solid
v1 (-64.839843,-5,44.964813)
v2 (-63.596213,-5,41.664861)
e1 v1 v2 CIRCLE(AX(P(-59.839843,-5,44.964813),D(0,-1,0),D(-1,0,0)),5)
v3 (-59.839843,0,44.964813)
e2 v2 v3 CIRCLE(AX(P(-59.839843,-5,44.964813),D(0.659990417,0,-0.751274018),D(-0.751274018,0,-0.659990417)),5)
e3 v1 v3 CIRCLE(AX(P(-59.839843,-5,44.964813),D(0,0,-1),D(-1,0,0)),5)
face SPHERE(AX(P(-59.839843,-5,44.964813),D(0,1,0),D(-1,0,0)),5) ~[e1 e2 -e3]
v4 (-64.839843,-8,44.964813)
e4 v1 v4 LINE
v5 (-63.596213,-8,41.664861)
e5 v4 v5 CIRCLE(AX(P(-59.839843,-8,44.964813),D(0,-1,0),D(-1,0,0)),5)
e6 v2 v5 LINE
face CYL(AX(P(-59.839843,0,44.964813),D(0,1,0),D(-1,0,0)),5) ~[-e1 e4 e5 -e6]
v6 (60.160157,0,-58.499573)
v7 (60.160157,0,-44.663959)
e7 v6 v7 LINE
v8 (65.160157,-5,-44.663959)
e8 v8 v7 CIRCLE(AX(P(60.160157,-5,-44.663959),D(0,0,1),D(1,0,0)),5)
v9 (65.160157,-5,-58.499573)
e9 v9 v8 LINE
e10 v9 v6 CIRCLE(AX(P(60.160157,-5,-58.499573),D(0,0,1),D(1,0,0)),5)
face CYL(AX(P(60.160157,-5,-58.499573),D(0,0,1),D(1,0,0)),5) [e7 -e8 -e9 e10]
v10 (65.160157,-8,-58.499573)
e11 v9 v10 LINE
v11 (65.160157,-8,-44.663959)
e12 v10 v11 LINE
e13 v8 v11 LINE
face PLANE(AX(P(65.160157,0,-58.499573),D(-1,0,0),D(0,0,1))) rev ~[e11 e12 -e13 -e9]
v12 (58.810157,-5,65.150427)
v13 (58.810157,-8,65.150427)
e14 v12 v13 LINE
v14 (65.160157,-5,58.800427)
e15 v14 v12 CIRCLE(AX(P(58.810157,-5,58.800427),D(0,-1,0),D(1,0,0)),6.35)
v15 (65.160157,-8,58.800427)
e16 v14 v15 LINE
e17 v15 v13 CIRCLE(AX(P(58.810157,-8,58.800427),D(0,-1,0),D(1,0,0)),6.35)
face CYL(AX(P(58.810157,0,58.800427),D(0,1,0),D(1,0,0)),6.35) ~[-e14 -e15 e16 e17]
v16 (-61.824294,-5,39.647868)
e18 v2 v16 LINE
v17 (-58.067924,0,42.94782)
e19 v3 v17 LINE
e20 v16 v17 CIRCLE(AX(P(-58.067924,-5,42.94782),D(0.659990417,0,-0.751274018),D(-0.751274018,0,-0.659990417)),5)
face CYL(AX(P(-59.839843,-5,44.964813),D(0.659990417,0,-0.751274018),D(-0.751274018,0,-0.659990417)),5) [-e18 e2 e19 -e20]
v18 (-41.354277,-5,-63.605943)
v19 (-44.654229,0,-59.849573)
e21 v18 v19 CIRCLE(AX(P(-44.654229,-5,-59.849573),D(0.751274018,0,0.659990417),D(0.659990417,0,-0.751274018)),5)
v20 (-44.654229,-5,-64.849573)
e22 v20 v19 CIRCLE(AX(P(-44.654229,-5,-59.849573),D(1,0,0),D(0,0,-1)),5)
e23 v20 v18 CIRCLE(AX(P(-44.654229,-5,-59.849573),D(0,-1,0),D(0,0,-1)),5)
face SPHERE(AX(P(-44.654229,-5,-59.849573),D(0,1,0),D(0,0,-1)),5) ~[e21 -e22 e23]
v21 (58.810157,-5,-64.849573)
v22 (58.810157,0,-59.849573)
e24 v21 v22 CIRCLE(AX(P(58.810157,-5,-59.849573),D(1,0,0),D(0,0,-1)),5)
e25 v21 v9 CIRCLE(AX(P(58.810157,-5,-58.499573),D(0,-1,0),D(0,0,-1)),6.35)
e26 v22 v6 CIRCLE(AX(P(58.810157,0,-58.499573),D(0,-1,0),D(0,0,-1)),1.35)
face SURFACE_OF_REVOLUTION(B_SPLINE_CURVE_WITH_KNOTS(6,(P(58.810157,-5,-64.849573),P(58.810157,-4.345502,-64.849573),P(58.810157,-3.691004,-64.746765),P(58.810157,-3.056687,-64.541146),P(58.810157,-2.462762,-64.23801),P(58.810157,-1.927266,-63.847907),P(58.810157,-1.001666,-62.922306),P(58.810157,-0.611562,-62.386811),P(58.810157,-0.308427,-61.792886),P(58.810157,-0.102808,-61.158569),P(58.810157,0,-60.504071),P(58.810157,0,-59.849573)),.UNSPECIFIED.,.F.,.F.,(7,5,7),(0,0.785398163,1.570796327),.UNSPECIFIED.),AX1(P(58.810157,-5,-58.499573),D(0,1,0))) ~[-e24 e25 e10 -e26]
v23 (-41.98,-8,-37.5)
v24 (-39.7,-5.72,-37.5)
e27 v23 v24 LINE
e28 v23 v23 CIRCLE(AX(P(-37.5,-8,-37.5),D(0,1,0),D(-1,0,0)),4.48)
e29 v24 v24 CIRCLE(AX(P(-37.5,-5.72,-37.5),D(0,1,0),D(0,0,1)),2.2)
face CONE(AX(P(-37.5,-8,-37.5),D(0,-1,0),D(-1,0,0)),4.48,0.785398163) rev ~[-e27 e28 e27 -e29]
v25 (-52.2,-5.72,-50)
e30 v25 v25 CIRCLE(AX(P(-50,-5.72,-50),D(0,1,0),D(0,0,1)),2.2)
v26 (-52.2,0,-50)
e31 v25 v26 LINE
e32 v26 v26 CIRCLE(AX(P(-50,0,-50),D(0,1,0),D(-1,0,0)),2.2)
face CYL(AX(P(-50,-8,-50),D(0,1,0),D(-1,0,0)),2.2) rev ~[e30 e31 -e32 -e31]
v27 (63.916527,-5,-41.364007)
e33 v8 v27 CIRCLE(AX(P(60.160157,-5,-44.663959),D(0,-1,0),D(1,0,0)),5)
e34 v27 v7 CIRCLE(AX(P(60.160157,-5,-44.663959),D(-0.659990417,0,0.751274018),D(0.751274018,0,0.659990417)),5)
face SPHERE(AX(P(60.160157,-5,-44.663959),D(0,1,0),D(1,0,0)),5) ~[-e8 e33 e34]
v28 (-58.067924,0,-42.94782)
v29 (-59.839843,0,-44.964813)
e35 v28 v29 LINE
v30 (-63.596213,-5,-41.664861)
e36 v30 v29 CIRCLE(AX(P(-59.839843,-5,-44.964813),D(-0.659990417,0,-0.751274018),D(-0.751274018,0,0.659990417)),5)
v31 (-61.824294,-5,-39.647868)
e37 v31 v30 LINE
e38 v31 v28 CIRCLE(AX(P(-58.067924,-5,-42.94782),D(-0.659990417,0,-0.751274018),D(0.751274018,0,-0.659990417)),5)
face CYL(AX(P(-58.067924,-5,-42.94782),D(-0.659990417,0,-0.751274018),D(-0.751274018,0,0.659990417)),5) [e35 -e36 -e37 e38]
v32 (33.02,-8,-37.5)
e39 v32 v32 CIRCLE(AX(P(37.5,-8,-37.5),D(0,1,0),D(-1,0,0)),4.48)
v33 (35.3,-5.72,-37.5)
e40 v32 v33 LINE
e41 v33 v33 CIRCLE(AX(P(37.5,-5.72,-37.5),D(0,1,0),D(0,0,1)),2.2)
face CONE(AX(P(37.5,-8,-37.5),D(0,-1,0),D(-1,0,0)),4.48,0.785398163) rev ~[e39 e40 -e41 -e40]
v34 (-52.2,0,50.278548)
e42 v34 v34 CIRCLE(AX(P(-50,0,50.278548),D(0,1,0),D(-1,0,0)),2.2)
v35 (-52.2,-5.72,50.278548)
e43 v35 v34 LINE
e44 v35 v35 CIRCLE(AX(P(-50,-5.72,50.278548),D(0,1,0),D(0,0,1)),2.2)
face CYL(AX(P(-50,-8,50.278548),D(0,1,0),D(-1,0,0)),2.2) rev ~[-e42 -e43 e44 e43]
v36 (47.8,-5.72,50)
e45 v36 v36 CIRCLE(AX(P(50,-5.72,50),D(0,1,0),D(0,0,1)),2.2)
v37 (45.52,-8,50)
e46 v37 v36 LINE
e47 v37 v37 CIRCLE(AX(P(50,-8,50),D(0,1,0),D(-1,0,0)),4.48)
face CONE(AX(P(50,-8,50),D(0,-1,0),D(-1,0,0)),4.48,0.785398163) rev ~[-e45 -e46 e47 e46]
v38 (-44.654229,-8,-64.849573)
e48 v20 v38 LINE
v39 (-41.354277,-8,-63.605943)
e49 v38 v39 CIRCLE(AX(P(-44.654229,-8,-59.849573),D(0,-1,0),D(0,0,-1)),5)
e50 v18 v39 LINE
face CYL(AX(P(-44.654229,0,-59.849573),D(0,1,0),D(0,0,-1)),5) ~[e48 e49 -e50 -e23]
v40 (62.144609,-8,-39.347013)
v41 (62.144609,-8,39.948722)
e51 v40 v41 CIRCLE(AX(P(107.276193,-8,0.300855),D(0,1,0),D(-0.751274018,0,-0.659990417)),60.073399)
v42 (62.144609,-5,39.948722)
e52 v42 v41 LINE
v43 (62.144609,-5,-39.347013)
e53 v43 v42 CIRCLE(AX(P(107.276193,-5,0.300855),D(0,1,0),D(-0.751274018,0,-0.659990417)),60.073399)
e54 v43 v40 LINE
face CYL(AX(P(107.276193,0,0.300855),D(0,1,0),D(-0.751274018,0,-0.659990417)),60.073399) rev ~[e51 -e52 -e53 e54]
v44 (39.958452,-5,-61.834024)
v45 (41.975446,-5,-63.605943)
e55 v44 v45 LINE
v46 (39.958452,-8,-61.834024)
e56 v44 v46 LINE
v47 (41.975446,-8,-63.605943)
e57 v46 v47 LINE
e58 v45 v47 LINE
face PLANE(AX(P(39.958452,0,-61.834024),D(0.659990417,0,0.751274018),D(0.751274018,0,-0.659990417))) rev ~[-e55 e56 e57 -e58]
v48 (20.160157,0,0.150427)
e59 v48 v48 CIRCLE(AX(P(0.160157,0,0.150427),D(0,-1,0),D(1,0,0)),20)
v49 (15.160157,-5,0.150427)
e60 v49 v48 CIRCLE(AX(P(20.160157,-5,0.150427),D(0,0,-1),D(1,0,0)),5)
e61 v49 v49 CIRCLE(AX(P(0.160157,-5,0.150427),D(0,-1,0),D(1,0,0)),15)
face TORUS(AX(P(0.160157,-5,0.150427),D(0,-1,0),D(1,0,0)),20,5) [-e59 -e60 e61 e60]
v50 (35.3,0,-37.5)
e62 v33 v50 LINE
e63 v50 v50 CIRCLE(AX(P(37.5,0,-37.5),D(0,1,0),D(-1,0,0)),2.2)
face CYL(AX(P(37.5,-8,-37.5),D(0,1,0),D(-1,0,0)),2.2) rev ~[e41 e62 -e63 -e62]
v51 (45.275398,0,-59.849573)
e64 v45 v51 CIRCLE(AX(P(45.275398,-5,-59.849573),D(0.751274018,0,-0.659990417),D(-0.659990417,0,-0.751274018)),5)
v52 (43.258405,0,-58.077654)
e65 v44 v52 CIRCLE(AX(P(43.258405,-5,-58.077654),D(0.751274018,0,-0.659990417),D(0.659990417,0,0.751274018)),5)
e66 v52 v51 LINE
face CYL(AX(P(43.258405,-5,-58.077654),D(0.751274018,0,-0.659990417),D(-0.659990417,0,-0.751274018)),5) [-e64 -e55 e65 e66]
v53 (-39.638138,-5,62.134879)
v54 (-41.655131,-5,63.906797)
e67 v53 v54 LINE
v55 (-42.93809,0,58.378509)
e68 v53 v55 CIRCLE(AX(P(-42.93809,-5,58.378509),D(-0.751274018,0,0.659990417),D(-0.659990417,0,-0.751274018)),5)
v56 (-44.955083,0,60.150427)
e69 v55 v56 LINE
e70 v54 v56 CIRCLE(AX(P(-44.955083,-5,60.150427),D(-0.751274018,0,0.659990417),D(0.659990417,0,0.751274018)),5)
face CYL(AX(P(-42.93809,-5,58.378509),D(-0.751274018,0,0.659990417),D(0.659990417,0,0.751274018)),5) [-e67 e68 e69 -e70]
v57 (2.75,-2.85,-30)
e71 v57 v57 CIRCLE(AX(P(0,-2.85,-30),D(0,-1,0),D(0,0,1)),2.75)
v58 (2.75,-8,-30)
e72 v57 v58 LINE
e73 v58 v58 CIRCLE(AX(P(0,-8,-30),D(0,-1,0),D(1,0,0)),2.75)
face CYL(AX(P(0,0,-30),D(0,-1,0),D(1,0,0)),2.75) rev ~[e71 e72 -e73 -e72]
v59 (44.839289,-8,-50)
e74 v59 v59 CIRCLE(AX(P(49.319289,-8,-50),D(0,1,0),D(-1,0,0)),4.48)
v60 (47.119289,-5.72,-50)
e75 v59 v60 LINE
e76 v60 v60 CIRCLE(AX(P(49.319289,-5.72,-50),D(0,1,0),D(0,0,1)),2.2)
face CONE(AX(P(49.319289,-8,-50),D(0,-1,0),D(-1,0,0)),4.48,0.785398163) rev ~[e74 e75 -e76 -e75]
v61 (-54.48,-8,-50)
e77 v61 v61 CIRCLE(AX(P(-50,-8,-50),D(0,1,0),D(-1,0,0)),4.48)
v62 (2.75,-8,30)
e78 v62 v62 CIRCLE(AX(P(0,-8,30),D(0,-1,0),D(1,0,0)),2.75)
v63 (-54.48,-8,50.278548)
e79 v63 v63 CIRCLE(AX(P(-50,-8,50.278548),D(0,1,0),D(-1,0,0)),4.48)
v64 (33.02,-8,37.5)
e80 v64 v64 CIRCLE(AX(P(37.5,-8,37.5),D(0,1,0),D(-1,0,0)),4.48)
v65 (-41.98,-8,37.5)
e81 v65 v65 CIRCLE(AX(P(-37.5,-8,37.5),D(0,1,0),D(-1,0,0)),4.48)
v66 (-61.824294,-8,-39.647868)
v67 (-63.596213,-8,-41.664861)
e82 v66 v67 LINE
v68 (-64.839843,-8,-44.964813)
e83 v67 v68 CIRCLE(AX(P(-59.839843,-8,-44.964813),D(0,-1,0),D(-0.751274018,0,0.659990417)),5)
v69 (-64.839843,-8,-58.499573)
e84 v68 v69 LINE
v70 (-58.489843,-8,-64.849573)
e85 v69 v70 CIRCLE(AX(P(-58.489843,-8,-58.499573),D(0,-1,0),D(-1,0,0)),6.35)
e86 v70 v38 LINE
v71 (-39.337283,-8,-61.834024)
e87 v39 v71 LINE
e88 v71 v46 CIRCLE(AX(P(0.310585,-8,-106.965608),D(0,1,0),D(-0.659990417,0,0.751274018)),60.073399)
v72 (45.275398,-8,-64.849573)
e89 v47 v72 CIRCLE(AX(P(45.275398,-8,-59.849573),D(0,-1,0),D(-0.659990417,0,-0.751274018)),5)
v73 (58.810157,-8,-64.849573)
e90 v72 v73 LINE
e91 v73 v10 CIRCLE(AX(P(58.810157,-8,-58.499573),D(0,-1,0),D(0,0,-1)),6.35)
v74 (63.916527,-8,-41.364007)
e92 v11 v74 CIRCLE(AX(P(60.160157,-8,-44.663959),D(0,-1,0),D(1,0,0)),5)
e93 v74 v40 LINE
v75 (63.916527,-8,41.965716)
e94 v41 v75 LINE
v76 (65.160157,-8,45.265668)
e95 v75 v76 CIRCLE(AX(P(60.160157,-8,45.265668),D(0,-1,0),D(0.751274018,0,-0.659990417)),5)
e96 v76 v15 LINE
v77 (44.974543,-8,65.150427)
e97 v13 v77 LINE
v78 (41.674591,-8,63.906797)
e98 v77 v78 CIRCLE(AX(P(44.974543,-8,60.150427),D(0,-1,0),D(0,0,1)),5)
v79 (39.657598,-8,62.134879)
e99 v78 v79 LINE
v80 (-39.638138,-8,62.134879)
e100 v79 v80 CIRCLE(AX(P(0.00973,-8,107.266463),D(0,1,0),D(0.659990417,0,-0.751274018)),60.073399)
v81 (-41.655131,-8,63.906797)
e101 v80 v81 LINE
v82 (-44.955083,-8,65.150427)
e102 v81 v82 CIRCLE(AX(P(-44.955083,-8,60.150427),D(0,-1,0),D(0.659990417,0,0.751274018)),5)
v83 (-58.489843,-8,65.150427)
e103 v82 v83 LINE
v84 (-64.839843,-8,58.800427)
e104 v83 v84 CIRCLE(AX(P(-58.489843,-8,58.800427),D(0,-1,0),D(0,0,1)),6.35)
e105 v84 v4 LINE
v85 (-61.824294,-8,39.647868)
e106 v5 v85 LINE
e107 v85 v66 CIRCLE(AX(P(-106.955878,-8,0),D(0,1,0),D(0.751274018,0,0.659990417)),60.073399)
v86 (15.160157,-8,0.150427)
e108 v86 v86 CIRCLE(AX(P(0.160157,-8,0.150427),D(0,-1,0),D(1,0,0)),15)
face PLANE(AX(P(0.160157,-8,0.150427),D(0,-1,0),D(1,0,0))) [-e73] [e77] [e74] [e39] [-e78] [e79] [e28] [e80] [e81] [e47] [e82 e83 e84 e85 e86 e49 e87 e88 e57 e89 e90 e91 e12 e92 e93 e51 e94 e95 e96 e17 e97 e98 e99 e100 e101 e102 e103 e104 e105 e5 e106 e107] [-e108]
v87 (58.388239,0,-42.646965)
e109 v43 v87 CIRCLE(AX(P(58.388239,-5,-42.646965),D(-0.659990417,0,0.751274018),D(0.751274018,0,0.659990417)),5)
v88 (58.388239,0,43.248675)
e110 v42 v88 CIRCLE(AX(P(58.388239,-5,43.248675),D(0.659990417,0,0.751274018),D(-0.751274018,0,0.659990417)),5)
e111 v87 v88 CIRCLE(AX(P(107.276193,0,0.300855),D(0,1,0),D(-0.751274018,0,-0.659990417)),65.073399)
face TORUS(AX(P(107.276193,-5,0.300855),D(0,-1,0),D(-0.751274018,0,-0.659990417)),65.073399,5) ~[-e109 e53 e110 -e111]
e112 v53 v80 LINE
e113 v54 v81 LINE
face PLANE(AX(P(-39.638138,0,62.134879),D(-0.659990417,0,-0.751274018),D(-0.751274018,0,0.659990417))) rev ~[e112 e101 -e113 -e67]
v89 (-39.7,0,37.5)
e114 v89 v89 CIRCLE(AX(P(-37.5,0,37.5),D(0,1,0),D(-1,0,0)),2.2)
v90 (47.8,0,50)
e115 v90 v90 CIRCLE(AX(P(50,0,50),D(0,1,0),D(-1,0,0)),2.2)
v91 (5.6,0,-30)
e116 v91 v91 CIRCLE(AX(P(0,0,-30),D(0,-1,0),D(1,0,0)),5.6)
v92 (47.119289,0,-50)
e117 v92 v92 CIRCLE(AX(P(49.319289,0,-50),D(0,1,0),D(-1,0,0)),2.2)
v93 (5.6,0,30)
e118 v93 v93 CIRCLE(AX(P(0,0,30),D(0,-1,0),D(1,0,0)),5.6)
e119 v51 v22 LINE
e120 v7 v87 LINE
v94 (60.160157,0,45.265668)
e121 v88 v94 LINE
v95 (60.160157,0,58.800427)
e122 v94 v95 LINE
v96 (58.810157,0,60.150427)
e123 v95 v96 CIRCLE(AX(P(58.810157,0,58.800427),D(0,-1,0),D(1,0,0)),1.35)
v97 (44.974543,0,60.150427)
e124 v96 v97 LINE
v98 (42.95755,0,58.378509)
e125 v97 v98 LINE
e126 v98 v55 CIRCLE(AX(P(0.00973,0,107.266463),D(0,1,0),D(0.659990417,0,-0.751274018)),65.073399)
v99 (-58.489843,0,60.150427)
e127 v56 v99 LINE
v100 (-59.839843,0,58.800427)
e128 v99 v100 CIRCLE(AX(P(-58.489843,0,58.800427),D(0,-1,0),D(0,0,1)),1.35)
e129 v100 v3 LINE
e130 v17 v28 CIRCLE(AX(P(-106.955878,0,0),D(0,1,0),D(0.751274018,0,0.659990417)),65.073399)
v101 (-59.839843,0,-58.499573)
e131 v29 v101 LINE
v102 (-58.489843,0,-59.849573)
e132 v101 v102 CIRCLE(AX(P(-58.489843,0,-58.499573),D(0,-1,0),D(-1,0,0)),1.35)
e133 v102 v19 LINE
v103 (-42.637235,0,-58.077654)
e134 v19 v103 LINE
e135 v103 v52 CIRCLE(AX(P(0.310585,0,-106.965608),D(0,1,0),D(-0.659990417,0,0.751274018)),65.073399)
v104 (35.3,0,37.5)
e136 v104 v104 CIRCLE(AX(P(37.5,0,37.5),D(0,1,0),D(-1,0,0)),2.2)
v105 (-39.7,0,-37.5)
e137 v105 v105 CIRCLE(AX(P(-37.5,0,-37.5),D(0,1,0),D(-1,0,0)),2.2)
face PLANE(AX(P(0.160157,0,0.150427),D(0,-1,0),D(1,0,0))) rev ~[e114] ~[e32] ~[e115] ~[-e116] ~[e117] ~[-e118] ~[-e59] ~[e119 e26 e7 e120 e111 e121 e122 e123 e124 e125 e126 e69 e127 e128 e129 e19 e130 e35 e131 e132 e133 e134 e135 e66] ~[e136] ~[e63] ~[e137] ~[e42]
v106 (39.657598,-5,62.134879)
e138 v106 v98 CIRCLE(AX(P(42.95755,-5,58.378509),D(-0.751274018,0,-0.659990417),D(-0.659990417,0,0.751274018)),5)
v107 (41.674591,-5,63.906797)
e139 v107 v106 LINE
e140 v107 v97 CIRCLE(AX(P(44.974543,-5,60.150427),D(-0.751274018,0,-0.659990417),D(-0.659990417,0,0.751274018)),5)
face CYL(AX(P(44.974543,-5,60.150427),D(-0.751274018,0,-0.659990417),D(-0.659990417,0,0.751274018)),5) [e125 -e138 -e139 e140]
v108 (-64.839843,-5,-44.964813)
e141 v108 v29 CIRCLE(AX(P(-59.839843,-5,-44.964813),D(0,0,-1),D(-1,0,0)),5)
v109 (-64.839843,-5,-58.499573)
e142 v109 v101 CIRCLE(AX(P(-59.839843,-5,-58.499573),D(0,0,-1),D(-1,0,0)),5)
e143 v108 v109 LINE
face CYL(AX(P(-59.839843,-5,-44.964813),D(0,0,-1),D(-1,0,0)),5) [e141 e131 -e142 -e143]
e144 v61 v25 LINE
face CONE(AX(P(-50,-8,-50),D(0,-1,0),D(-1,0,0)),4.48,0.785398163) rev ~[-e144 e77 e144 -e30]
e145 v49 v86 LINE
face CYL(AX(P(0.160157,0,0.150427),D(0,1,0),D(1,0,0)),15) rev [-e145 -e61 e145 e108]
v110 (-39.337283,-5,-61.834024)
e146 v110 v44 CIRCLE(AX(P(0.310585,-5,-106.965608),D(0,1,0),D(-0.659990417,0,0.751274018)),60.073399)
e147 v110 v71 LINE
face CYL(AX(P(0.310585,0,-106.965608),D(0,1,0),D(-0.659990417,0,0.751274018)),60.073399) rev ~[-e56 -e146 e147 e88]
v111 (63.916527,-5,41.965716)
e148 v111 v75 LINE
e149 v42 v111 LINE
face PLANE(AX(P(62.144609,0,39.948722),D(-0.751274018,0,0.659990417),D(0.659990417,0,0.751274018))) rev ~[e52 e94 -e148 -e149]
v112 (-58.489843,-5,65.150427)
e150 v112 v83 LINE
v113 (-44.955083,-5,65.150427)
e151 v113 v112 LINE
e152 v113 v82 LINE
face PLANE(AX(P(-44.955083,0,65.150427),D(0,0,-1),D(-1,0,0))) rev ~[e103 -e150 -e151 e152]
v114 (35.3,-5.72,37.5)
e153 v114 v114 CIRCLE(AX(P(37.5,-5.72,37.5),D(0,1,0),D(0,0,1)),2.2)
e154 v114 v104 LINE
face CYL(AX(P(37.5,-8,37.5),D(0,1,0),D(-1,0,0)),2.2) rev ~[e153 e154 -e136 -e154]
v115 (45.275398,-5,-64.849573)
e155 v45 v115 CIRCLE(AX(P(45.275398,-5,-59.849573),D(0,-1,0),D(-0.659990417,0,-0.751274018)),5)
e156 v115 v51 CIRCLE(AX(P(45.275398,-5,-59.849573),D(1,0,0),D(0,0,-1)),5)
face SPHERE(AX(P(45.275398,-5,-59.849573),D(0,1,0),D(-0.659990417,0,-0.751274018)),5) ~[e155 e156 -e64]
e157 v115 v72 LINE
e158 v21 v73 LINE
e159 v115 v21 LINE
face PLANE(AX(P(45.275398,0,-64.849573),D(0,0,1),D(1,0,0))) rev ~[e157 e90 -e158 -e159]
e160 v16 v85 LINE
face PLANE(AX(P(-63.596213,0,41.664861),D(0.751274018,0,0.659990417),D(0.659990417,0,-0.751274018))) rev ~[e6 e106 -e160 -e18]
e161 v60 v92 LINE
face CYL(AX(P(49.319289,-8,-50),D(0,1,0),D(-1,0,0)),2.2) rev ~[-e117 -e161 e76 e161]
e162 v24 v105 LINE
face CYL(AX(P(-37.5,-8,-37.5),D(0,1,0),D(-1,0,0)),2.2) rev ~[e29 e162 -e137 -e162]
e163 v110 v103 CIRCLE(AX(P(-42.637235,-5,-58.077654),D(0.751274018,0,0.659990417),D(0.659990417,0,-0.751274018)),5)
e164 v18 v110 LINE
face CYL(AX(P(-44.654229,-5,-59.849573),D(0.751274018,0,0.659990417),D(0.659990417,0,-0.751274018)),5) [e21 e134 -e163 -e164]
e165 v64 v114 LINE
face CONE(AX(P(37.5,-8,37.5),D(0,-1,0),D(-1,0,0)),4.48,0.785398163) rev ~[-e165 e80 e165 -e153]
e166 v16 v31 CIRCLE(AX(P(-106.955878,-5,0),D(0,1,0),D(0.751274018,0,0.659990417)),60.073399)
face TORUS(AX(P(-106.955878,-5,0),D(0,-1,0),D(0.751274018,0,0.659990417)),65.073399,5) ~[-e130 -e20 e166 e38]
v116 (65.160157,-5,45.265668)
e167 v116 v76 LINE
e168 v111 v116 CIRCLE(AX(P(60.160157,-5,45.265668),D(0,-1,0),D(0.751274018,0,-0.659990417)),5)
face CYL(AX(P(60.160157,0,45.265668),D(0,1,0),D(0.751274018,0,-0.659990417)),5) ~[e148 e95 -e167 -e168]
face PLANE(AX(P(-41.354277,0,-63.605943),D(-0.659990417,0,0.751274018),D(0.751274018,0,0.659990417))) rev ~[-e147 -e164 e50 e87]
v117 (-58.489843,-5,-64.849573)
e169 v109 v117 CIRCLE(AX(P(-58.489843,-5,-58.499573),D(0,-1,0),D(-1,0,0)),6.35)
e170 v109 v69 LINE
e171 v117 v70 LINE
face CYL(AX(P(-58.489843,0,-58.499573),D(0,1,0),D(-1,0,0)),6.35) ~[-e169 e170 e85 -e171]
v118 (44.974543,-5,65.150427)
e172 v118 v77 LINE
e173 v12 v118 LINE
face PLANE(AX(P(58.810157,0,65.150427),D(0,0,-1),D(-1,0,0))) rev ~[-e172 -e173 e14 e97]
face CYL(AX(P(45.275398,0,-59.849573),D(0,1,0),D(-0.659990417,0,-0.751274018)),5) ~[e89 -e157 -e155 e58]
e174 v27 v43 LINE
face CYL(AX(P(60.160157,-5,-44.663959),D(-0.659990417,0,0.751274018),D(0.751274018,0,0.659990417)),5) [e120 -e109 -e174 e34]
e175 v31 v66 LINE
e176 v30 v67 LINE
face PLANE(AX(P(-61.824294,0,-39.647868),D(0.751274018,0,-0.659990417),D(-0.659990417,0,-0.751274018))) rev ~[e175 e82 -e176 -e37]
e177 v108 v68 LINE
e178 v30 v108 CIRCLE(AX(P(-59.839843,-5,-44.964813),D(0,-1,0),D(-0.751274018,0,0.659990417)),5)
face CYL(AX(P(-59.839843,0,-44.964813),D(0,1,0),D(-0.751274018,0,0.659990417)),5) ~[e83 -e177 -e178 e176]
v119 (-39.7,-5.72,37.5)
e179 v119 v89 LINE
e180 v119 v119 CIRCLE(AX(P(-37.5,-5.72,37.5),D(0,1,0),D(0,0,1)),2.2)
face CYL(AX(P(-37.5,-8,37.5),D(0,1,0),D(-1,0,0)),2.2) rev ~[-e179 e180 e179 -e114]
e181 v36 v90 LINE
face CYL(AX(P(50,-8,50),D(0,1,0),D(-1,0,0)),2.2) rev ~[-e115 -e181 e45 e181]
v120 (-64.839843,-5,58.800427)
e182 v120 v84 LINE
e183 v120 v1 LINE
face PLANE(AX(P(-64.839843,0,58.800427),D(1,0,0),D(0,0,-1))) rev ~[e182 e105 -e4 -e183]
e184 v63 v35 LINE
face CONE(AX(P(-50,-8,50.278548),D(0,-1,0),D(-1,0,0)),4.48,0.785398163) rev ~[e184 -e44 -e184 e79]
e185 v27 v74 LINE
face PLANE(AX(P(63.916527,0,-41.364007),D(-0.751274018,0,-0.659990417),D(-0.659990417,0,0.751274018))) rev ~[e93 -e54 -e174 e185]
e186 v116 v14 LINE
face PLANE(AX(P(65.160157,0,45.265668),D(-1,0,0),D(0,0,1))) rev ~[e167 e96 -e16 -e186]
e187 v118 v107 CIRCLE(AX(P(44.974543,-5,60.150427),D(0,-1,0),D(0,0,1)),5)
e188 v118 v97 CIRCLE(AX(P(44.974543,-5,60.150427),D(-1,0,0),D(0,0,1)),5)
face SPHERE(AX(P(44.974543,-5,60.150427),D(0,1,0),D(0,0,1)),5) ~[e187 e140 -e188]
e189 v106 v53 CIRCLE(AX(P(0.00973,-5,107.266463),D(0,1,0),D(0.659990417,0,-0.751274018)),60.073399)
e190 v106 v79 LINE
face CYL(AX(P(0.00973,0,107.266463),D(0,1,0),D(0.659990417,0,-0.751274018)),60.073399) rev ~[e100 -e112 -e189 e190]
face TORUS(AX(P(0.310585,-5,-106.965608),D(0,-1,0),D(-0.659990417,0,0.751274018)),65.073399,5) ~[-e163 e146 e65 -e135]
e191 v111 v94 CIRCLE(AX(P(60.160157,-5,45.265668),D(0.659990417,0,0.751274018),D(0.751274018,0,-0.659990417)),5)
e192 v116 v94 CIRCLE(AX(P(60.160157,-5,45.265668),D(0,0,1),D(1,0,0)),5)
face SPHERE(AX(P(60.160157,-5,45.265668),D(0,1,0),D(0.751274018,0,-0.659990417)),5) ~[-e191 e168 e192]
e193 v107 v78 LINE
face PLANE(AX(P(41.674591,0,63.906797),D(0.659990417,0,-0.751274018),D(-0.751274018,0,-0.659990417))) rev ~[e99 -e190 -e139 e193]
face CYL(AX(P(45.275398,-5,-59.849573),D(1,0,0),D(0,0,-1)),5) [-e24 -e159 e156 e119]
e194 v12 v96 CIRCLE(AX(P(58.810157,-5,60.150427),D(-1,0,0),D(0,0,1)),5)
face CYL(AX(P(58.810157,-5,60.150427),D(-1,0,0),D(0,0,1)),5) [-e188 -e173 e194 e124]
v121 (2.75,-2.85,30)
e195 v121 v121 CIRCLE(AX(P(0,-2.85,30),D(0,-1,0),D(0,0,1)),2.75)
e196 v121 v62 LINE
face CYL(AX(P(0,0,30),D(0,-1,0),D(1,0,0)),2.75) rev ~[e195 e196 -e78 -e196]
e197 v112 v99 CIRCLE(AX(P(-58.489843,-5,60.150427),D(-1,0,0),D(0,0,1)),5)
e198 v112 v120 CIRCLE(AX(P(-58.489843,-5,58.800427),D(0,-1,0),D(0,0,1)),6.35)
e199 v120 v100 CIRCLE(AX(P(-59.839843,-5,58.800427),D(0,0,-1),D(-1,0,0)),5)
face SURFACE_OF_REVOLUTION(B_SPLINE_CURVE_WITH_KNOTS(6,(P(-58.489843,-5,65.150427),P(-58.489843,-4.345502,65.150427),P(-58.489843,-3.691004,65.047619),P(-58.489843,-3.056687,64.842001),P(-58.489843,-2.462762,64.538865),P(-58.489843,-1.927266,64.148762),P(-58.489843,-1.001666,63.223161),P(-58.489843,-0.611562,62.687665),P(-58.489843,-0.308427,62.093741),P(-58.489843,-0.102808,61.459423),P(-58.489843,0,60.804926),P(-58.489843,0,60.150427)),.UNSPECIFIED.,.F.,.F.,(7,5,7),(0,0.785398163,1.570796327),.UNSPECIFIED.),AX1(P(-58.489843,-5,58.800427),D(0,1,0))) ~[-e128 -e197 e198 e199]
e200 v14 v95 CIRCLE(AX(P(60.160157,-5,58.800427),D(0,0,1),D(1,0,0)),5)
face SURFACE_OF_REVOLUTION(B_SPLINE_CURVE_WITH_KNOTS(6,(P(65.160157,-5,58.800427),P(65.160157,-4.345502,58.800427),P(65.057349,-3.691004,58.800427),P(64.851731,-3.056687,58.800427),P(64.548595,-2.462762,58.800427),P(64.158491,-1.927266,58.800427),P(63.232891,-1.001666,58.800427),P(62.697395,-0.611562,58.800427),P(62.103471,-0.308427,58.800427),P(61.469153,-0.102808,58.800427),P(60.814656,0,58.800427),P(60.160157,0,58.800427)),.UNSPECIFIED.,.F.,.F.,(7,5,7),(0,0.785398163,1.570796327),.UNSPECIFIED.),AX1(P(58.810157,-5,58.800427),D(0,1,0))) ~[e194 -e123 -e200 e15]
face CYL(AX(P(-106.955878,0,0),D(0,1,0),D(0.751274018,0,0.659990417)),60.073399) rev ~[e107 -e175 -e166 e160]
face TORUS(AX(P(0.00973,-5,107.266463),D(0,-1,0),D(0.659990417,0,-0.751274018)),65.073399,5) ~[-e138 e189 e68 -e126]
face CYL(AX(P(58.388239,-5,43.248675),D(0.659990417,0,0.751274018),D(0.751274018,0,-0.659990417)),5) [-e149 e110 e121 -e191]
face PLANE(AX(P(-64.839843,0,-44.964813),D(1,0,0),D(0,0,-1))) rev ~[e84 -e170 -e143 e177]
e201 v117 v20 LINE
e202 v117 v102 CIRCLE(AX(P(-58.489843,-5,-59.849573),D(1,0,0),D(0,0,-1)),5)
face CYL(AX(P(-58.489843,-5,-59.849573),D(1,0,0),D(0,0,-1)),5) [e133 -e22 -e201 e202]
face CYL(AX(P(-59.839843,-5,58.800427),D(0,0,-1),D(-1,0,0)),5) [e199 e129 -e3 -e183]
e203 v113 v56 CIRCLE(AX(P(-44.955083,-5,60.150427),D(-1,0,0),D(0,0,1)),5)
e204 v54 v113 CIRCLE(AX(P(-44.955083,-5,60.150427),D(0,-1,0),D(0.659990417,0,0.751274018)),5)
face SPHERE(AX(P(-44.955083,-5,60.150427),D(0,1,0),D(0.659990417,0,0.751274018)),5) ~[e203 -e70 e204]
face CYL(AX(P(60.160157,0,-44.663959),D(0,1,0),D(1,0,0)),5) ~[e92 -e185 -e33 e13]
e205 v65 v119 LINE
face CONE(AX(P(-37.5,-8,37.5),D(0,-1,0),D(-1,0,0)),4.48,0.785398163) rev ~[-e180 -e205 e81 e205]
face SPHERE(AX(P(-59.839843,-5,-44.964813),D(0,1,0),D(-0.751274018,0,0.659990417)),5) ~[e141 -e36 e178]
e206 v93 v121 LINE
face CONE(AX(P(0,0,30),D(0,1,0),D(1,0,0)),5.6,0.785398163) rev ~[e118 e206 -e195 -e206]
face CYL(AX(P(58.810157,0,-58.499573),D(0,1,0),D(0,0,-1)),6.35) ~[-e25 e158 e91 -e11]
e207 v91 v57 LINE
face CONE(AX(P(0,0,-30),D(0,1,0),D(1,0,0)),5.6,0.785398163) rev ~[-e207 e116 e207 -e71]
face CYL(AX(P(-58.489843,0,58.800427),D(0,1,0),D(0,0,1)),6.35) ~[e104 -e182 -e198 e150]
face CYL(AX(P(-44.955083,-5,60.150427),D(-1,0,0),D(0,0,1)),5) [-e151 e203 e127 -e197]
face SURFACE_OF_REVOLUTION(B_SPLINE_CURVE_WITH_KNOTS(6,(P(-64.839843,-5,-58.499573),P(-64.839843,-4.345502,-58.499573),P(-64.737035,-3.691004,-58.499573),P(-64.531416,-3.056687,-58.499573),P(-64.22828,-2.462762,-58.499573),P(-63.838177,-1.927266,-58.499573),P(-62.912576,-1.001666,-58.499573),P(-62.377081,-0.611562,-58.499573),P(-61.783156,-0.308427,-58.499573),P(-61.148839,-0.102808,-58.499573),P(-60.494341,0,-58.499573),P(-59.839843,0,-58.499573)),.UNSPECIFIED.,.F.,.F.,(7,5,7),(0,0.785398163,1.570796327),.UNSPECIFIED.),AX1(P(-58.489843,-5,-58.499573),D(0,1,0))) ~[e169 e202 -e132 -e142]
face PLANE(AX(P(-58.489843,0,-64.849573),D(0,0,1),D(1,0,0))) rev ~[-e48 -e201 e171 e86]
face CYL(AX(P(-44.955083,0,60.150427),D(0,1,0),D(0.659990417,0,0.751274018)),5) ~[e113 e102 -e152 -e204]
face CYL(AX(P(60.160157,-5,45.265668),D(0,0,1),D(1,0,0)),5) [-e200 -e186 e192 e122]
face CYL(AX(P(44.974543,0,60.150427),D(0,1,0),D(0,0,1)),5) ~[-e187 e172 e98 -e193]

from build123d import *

# Parameters (mm, degrees)
F0_R           = 15
F1_DEPTH       = 8
F3_D           = 4.4
F3_CSINK_D     = 8.96
F3_CSINK_ANGLE = 90
F5_D           = 5.5
F5_CSINK_D     = 11.2
F5_CSINK_ANGLE = 90
F6_R           = 5


with BuildPart() as f1:
    # F0 (on Front) → F1 (new body)
    with BuildSketch(Plane.XZ):
        with BuildLine():
            Line((-44.9550832745, 65.1504273235), (-58.4898427156, 65.1504273235))
            ThreePointArc((-58.4898427156, 65.1504273235), (-62.9799707761, 63.290555384), (-64.8398427156, 58.8004273235))
            Line((-64.8398427156, 58.8004273235), (-64.8398427156, 44.9648132355))
            ThreePointArc((-64.8398427156, 44.9648132355), (-64.5186166173, 43.2015563694), (-63.5962128052, 41.6648611525))
            Line((-63.5962128052, 41.6648611525), (-61.8242943859, 39.6478678193))
            ThreePointArc((-61.8242943859, 39.6478678193), (-46.8824791526, 0), (-61.8242943859, -39.6478678193))
            Line((-61.8242943859, -39.6478678193), (-63.5962128052, -41.6648611525))
            ThreePointArc((-63.5962128052, -41.6648611525), (-64.5186166173, -43.2015563694), (-64.8398427156, -44.9648132355))
            Line((-64.8398427156, -44.9648132355), (-64.8398427156, -58.4995726765))
            ThreePointArc((-64.8398427156, -58.4995726765), (-62.9799707761, -62.989700737), (-58.4898427156, -64.8495726765))
            Line((-58.4898427156, -64.8495726765), (-44.6542286275, -64.8495726765))
            ThreePointArc((-44.6542286275, -64.8495726765), (-42.8909717614, -64.5283465783), (-41.3542765446, -63.6059427661))
            Line((-41.3542765446, -63.6059427661), (-39.3372832113, -61.8340243469))
            ThreePointArc((-39.3372832113, -61.8340243469), (0.3105846079, -46.8922091135), (39.9584524272, -61.8340243469))
            Line((39.9584524272, -61.8340243469), (41.9754457605, -63.6059427661))
            ThreePointArc((41.9754457605, -63.6059427661), (43.5121409773, -64.5283465783), (45.2753978434, -64.8495726765))
            Line((45.2753978434, -64.8495726765), (58.8101572844, -64.8495726765))
            ThreePointArc((58.8101572844, -64.8495726765), (63.300285345, -62.989700737), (65.1601572844, -58.4995726765))
            Line((65.1601572844, -58.4995726765), (65.1601572844, -44.6639585885))
            ThreePointArc((65.1601572844, -44.6639585885), (64.8389311862, -42.9007017224), (63.9165273741, -41.3640065055))
            Line((63.9165273741, -41.3640065055), (62.1446089548, -39.3470131723))
            ThreePointArc((62.1446089548, -39.3470131723), (47.2027937215, 0.300854647), (62.1446089548, 39.9487224663))
            Line((62.1446089548, 39.9487224663), (63.9165273741, 41.9657157995))
            ThreePointArc((63.9165273741, 41.9657157995), (64.8389311862, 43.5024110164), (65.1601572844, 45.2656678825))
            Line((65.1601572844, 45.2656678825), (65.1601572844, 58.8004273235))
            ThreePointArc((65.1601572844, 58.8004273235), (63.300285345, 63.290555384), (58.8101572844, 65.1504273235))
            Line((58.8101572844, 65.1504273235), (44.9745431964, 65.1504273235))
            ThreePointArc((44.9745431964, 65.1504273235), (43.2112863303, 64.8292012253), (41.6745911135, 63.9067974131))
            Line((41.6745911135, 63.9067974131), (39.6575977802, 62.1348789939))
            ThreePointArc((39.6575977802, 62.1348789939), (0.0097299609, 47.1930637605), (-39.6381378583, 62.1348789939))
            Line((-39.6381378583, 62.1348789939), (-41.6551311916, 63.9067974131))
            ThreePointArc((-41.6551311916, 63.9067974131), (-43.1918264084, 64.8292012253), (-44.9550832745, 65.1504273235))
        make_face()
        with Locations((0.1601572844, 0.1504273235)):
            Circle(F0_R, mode=Mode.SUBTRACT)
    extrude(amount=F1_DEPTH)

    # F3 (through all)
    with Locations(Plane.XZ.offset(8)):
        with Locations((-50, 50.2785483839), (50, 50), (49.3192886108, -50), (-50, -50), (-37.5, 37.5), (37.5, 37.5), (37.5, -37.5), (-37.5, -37.5)):
            CounterSinkHole(F3_D / 2, F3_CSINK_D / 2, counter_sink_angle=F3_CSINK_ANGLE)

    # F5 (through all)
    with Locations(Plane(origin=(0, 0, 0), x_dir=(-1, 0, 0), z_dir=(0, 1, 0))):
        with Locations((0, -30), (0, 30)):
            CounterSinkHole(F5_D / 2, F5_CSINK_D / 2, counter_sink_angle=F5_CSINK_ANGLE)

    # F6
    f6_edges = [f1.edges().sort_by_distance(p)[0] for p in [
        (-51.572036, 0, -64.849573),
        (63.300285, 0, -62.989701),
        (65.160157, 0, 52.033048),
        (-62.979971, 0, -62.989701),
        (-64.839843, 0, 51.88262),
        (-62.979971, 0, 63.290555),
        (-51.722463, 0, 65.150427),
        (63.300285, 0, 63.290555),
        (-14.839843, 0, 0.150427),
    ]]
    fillet(f6_edges, radius=F6_R)


solid = f1.part
